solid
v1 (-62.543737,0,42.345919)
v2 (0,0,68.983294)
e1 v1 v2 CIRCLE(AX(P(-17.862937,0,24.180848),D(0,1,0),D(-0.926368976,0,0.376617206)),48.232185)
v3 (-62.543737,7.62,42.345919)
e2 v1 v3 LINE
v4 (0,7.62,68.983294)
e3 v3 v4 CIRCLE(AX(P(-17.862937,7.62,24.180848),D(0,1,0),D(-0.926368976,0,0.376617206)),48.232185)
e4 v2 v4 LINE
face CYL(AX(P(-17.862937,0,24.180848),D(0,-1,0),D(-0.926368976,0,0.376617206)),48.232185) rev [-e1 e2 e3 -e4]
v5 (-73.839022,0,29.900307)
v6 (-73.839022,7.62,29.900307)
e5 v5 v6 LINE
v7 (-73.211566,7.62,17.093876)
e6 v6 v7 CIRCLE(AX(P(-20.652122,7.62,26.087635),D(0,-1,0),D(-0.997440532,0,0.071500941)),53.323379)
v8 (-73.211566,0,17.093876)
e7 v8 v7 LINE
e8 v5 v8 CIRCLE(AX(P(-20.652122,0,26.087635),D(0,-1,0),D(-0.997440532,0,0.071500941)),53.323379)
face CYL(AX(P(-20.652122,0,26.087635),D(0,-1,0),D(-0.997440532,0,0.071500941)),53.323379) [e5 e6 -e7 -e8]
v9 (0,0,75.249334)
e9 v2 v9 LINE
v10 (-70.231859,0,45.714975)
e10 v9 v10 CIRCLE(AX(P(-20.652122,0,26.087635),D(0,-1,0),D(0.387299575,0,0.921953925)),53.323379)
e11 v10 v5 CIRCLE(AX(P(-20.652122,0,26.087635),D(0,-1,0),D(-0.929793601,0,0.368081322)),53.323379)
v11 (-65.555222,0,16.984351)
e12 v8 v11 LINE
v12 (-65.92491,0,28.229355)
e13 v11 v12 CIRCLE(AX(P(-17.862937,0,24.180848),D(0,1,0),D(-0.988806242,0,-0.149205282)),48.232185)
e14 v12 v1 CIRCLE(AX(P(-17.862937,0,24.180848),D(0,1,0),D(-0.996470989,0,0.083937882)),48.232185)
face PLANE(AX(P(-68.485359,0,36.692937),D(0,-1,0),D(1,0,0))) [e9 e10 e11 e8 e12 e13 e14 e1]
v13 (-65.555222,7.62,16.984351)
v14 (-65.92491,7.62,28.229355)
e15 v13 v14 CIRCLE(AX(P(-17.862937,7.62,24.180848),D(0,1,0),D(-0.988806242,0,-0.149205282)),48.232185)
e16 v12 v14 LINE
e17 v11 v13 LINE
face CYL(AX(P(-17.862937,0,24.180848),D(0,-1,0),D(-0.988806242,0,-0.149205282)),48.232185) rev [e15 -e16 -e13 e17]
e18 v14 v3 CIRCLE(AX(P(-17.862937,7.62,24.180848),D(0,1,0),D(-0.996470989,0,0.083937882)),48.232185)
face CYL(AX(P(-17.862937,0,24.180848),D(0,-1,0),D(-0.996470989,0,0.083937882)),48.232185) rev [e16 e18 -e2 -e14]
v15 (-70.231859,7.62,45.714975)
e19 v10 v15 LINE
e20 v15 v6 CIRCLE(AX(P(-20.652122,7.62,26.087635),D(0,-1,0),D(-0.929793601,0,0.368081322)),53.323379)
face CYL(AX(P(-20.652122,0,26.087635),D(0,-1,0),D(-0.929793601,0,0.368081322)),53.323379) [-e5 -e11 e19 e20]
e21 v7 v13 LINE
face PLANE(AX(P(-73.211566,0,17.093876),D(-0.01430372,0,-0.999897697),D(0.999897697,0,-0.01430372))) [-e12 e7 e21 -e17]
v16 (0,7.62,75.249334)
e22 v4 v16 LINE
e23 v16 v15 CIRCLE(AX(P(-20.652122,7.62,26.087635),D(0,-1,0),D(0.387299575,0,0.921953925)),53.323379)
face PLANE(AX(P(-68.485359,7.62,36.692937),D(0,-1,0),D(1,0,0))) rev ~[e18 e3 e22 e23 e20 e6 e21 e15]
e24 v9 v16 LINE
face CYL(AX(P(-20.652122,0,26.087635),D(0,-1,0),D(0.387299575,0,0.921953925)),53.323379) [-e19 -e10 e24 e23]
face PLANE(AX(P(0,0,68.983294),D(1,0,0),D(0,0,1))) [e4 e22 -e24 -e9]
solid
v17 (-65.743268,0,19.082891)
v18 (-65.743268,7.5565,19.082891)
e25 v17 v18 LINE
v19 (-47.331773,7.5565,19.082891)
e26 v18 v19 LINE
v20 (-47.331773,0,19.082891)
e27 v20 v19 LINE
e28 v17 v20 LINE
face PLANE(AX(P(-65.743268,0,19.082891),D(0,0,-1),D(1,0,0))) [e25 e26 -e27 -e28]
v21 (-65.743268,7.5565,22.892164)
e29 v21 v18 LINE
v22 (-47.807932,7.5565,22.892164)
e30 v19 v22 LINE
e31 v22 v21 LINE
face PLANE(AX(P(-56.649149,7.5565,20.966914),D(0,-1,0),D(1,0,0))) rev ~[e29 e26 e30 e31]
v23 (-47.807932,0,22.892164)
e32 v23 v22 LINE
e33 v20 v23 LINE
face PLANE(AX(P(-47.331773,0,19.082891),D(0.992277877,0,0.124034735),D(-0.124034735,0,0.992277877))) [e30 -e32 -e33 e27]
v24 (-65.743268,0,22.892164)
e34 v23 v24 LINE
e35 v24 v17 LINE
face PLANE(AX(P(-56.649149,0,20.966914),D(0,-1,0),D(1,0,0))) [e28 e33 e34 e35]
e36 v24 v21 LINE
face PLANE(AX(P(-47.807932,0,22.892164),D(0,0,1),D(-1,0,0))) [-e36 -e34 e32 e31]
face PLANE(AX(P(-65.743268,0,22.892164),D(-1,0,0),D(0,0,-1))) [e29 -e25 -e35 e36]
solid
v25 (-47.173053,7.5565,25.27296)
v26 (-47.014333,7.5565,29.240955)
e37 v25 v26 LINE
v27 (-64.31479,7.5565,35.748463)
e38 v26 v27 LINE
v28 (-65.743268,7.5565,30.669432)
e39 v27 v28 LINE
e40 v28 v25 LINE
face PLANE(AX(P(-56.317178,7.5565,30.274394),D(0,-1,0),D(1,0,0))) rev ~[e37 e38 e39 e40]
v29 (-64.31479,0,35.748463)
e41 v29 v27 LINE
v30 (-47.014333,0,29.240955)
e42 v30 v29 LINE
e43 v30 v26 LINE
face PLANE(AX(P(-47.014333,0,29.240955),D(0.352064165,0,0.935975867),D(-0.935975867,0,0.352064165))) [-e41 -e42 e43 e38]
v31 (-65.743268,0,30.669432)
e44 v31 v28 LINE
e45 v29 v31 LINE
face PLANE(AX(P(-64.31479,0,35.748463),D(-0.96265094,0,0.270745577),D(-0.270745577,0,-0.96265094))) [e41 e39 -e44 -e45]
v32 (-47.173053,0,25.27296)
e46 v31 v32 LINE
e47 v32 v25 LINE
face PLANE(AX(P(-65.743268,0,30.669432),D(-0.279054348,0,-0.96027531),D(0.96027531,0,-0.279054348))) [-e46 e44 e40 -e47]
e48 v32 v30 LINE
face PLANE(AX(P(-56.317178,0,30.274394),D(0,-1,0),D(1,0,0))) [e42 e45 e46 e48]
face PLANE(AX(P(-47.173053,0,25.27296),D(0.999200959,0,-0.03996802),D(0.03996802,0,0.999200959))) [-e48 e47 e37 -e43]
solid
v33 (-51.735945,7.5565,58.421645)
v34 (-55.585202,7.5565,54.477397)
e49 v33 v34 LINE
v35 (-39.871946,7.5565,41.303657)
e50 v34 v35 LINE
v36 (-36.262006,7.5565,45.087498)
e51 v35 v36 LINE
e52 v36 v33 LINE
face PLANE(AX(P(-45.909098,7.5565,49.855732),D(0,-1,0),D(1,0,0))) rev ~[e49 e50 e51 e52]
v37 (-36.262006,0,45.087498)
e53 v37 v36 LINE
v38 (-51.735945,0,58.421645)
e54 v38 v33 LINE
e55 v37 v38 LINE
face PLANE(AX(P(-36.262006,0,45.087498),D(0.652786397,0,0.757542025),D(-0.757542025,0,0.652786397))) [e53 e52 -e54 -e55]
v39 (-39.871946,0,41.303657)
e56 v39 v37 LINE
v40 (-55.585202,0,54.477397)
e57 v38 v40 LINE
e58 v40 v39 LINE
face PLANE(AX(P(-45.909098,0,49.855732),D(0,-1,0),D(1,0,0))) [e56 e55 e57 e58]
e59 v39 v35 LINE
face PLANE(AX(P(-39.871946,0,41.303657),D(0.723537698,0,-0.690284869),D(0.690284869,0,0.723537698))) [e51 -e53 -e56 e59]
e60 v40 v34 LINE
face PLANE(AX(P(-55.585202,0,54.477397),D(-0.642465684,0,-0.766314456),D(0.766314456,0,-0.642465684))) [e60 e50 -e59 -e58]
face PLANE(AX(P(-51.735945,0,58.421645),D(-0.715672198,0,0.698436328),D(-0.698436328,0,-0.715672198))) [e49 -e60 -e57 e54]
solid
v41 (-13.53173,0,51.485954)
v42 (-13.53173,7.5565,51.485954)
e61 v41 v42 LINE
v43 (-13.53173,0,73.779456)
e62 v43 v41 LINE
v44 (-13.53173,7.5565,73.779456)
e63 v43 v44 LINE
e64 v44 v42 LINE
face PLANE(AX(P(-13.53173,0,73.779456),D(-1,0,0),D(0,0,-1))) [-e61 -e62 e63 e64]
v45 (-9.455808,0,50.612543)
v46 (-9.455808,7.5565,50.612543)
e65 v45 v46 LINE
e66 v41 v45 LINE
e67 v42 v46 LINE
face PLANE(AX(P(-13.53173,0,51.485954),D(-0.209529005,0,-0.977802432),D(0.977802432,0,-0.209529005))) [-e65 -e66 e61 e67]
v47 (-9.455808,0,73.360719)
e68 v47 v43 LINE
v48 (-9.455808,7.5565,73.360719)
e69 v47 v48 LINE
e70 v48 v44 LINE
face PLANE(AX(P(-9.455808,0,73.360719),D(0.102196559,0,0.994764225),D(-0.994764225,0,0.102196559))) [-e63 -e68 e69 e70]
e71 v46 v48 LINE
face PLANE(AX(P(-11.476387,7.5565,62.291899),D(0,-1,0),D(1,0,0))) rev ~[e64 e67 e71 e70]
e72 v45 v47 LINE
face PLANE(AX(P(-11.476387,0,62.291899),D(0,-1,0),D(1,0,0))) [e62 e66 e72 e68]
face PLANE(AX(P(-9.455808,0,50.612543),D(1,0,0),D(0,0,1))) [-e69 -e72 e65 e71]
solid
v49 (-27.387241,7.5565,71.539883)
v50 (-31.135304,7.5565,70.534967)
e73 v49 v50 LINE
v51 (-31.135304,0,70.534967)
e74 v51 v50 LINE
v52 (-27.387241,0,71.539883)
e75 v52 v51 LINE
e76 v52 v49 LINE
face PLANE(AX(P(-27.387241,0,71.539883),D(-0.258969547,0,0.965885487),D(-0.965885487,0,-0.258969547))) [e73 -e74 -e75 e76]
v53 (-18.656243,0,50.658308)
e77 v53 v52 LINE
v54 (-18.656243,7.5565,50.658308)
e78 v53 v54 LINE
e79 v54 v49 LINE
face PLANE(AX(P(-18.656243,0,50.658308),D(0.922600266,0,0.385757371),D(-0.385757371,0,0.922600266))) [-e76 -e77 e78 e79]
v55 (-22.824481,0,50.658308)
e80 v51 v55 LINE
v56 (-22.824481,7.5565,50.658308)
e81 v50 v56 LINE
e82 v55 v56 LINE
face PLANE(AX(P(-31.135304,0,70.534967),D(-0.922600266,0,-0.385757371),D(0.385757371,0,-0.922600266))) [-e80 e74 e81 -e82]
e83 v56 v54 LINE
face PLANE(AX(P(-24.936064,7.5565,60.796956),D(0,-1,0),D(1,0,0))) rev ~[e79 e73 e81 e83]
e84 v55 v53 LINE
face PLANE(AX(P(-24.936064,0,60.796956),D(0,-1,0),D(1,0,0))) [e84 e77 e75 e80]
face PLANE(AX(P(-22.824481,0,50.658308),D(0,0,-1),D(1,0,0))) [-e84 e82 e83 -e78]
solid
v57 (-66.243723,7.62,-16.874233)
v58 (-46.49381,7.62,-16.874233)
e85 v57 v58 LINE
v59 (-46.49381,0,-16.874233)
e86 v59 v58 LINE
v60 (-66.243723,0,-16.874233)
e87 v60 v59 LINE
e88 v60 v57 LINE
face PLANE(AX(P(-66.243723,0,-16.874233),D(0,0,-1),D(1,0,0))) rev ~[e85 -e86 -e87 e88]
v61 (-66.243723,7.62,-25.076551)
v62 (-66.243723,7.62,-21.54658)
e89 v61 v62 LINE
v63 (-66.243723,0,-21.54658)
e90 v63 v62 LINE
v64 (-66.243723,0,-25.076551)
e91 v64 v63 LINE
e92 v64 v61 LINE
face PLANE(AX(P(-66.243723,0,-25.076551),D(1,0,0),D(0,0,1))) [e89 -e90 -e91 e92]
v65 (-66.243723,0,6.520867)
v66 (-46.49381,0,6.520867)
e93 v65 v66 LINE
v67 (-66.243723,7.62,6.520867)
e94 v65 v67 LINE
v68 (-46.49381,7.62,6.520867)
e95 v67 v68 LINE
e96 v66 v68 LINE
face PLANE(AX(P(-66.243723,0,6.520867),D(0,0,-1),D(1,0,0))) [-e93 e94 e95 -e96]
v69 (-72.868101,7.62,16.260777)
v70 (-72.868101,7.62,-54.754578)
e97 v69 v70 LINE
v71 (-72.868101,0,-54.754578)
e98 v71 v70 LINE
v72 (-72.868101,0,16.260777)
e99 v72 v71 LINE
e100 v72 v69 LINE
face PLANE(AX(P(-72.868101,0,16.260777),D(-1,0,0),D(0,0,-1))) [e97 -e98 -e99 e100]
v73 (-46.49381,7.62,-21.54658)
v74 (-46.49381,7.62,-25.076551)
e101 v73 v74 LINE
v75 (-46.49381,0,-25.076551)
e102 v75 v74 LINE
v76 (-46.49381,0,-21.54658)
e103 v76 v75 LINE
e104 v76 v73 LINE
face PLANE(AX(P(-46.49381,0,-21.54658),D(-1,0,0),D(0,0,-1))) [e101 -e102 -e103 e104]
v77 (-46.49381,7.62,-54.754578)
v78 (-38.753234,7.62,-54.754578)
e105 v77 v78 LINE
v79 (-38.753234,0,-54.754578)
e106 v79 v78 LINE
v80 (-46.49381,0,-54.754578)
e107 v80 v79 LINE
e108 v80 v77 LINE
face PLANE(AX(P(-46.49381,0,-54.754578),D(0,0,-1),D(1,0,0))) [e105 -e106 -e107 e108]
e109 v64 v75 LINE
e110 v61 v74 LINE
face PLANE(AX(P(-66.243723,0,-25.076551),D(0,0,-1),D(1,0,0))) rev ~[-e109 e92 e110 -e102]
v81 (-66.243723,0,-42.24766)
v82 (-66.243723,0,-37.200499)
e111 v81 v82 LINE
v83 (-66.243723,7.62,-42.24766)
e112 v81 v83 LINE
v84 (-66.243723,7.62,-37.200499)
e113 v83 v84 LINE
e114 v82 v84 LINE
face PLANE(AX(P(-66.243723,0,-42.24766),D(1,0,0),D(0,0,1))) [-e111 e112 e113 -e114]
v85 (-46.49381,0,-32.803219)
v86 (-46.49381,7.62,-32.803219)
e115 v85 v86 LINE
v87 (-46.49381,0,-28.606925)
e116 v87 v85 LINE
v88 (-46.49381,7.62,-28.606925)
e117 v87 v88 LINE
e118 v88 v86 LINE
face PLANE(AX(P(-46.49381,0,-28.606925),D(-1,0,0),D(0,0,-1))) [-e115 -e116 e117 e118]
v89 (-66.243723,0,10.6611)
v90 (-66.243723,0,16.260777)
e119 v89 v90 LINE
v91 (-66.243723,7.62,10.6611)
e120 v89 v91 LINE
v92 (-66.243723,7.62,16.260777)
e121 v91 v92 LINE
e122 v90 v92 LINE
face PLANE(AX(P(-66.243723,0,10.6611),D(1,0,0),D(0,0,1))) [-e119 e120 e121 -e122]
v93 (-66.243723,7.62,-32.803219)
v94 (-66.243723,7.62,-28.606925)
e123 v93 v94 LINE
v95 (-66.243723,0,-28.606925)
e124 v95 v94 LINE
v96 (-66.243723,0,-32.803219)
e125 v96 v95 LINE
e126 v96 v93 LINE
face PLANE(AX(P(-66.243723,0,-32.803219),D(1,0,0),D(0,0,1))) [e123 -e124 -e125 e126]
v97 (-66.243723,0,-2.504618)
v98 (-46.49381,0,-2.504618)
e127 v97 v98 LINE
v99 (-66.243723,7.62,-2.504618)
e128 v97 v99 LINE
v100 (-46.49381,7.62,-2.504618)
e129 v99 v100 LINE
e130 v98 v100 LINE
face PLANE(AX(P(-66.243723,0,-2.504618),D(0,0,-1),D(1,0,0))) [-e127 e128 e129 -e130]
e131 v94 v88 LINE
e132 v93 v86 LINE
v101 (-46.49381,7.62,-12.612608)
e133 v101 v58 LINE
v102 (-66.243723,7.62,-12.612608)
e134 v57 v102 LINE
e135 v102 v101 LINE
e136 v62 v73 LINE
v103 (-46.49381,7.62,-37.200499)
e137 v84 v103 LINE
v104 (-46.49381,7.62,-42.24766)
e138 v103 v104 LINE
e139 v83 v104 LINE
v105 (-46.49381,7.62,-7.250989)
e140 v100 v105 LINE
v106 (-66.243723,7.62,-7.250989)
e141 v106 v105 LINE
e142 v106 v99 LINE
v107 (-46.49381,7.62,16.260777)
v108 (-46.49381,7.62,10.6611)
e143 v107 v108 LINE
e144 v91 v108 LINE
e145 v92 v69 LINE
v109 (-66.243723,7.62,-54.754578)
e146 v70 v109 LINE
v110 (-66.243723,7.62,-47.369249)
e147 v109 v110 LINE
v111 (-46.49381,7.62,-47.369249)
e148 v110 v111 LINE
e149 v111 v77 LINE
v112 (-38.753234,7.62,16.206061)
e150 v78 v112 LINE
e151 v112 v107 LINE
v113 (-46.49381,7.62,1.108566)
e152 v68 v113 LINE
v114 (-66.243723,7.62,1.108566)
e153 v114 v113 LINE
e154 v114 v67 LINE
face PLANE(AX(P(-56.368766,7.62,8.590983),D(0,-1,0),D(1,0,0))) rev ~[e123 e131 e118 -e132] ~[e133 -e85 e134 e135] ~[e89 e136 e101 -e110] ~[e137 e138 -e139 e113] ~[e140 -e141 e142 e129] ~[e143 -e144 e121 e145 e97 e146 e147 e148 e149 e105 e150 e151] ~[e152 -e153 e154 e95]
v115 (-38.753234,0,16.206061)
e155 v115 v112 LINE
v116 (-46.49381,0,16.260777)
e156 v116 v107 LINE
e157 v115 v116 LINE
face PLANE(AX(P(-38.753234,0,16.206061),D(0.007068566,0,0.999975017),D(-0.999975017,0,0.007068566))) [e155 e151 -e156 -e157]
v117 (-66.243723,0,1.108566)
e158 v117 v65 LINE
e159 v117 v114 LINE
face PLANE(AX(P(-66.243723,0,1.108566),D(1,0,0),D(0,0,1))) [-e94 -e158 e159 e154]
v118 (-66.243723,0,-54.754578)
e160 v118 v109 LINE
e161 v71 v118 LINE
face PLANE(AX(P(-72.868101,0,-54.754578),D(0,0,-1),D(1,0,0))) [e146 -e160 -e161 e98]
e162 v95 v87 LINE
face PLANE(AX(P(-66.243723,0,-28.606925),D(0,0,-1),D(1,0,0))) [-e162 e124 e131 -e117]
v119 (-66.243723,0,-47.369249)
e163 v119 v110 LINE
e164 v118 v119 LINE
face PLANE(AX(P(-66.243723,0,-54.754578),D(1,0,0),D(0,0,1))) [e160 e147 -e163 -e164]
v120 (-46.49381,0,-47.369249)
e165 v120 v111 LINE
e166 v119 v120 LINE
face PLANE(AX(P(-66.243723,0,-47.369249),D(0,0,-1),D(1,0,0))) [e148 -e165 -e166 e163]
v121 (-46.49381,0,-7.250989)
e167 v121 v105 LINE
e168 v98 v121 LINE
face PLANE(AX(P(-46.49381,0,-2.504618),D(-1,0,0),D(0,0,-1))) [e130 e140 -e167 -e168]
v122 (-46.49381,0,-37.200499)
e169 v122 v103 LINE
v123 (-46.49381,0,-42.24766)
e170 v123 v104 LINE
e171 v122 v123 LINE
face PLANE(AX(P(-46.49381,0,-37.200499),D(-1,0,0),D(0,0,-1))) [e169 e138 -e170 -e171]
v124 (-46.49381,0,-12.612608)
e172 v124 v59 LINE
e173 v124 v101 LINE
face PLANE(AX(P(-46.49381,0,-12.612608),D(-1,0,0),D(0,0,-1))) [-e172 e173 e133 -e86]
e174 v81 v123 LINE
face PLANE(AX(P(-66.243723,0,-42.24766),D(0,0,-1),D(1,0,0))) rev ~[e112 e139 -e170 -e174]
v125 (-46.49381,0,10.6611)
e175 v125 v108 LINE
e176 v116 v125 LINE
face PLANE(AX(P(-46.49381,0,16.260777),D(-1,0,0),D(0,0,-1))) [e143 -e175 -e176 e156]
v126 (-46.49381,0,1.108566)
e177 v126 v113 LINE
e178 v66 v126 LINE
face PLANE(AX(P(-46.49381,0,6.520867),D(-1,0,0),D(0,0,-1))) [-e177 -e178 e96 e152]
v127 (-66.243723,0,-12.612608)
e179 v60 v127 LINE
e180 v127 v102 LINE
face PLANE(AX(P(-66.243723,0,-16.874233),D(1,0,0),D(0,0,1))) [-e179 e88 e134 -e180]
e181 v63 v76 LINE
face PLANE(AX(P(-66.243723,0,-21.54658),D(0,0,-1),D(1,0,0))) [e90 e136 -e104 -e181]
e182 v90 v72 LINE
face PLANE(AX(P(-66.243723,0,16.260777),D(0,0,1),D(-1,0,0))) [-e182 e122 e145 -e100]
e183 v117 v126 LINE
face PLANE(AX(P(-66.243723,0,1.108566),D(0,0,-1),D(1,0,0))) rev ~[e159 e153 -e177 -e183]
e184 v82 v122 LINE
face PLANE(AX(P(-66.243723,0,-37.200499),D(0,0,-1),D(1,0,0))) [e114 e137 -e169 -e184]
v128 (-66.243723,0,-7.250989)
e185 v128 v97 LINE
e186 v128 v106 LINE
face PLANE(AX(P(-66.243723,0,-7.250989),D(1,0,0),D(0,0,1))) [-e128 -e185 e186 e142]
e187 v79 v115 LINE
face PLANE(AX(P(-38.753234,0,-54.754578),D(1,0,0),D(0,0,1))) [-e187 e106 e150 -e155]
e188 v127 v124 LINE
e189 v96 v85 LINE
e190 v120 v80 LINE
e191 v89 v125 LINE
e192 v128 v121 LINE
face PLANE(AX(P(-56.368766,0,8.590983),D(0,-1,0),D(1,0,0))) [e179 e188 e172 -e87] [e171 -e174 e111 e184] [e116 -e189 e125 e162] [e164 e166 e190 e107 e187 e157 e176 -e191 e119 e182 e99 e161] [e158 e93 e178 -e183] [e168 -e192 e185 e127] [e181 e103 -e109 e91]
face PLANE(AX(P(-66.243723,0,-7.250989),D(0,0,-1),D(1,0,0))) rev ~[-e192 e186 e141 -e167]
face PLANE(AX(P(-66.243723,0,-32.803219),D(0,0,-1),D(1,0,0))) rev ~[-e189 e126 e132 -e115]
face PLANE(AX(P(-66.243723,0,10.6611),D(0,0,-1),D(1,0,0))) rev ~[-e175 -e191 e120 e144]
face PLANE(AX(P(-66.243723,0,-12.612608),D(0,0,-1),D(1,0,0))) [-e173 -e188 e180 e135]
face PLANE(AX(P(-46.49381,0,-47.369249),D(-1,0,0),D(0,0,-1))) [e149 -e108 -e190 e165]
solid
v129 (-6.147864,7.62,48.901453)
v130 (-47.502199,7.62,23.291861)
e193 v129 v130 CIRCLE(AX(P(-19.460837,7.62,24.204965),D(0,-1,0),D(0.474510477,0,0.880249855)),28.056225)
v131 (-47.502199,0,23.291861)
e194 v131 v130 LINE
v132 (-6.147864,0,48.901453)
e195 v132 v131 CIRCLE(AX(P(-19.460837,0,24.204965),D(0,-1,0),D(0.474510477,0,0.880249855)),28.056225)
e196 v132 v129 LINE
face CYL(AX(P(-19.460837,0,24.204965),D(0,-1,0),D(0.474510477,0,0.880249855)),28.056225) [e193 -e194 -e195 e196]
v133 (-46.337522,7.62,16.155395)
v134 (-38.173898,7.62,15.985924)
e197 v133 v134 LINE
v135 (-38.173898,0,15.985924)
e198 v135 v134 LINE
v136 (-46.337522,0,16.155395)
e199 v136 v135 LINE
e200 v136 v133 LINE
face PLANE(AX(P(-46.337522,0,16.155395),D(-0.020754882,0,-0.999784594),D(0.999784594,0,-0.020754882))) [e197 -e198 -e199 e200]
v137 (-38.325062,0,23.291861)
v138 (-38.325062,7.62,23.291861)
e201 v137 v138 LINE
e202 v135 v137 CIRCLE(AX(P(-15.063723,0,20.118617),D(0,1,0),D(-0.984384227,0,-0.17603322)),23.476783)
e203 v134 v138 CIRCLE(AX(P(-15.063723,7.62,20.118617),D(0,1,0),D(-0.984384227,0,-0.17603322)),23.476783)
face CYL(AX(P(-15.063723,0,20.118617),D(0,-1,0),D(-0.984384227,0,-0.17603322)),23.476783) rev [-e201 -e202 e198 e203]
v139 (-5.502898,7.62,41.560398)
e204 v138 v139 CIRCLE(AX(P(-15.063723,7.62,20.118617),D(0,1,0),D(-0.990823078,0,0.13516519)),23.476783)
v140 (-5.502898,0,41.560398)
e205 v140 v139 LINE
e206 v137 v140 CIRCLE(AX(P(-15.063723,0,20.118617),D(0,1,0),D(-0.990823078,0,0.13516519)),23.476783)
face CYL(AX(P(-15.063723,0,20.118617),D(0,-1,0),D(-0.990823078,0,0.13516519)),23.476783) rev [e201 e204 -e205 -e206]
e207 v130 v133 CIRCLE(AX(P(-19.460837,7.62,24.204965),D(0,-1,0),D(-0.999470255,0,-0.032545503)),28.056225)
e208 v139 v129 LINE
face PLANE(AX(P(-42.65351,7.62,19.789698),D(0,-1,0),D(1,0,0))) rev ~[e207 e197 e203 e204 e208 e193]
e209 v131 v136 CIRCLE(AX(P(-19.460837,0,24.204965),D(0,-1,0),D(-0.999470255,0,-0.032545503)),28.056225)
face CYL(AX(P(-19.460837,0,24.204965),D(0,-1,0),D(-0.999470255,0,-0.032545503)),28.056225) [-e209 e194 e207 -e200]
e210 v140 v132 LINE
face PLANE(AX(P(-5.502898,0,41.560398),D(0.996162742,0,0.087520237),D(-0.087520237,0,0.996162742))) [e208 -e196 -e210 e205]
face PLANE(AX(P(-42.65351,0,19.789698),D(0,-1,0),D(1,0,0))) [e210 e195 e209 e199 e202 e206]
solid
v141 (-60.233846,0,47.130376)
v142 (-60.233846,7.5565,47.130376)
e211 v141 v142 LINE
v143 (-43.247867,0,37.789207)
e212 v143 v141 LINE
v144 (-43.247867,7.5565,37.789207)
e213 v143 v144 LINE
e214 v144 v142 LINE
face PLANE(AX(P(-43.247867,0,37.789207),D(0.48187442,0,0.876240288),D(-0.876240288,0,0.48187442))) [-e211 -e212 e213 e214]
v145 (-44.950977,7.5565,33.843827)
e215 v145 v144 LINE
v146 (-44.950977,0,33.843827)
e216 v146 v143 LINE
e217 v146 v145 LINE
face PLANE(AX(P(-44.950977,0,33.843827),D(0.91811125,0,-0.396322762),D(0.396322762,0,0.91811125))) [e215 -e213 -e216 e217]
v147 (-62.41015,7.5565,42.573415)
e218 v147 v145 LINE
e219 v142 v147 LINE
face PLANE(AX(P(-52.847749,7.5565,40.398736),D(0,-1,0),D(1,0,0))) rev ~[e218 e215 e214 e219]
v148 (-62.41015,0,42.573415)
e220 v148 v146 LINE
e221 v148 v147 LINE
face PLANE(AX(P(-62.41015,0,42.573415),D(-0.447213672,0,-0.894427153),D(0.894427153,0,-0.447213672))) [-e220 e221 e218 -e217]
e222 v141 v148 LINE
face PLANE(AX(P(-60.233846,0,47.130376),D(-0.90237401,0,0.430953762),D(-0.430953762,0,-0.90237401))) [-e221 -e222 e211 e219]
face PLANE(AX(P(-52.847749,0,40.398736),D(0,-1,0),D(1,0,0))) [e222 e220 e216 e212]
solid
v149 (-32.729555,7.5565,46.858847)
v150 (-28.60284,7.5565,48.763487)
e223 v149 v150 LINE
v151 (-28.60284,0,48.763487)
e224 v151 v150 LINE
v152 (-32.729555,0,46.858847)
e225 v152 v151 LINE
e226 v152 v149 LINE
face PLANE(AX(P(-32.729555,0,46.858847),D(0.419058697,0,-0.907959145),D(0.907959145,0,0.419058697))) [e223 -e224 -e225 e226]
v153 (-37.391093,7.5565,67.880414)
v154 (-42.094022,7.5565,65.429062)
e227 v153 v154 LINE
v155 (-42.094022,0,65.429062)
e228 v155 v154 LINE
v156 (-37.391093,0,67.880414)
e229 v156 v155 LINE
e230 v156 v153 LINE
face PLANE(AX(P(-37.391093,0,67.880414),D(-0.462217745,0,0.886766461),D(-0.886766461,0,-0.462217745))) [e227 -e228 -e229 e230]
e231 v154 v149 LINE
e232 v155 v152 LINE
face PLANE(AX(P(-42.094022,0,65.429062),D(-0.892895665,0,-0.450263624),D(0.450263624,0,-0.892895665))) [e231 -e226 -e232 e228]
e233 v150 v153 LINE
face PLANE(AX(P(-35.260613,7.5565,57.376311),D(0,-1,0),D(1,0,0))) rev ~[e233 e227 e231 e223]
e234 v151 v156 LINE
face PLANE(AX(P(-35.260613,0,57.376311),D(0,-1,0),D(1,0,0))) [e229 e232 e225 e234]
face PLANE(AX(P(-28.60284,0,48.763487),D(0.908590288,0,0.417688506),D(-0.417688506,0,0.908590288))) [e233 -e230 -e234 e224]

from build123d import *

# Parameters (mm, degrees)
F0_W     = 19.7499133646
F0_H     = 4.1402331553
F0_H_2   = 5.3616189398
F0_H_3   = 3.6131842062
F0_H_4   = 4.6723466367
F0_H_5   = 3.5303737968
F0_H_6   = 4.3972805142
F0_H_7   = 5.121588707
F1_DEPTH = 7.62
F3_DEPTH = 7.62
F5_DEPTH = 7.5565


with BuildPart() as f1:
    # F0 (on Front) → F1 (new body)
    with BuildSketch(Plane.XZ):
        with Locations((-56.3687663525, 8.5909834597)):
            Rectangle(F0_W, F0_H)
        Polygon((-66.2437230349, 16.2607766688), (-72.8681012988, 16.2607766688), (-72.8681012988, -54.7545775771), (-66.2437230349, -54.7545775771), (-66.2437230349, -51.4237135649), (-66.2437230349, -47.3692491651), (-66.2437230349, -42.2476604581), (-66.2437230349, -37.200499326), (-66.2437230349, -32.8032188118), (-66.2437230349, -28.6069251597), (-66.2437230349, -25.0765513629), (-66.2437230349, -21.5465798974), (-66.2437230349, -16.8742332608), (-66.2437230349, -12.6126082614), (-66.2437230349, -7.2509893216), (-66.2437230349, -2.5046177907), (-66.2437230349, 1.1085664155), (-66.2437230349, 6.5208668821), (-66.2437230349, 10.6611000374), align=None)
        Polygon((-46.4938096702, 16.2607766688), (-46.4938096702, 10.6611000374), (-46.4938096702, 6.5208668821), (-46.4938096702, 1.1085664155), (-46.4938096702, -2.5046177907), (-46.4938096702, -7.2509893216), (-46.4938096702, -12.6126082614), (-46.4938096702, -16.8742332608), (-46.4938096702, -21.5465798974), (-46.4938096702, -25.0765513629), (-46.4938096702, -28.6069251597), (-46.4938096702, -32.8032188118), (-46.4938096702, -37.200499326), (-46.4938096702, -42.2476604581), (-46.4938096702, -47.3692491651), (-46.4938096702, -51.4237135649), (-46.4938096702, -54.7545775771), (-38.75323385, -54.7545775771), (-38.75323385, 16.2060605315), align=None)
        with Locations((-56.3687663525, -9.9317987915)):
            Rectangle(F0_W, F0_H_2)
        with Locations((-56.3687663525, -0.6980256876)):
            Rectangle(F0_W, F0_H_3)
        with Locations((-56.3687663525, -19.2104065791)):
            Rectangle(F0_W, F0_H_4)
        with Locations((-56.3687663525, -26.8417382613)):
            Rectangle(F0_W, F0_H_5)
        with Locations((-56.3687663525, -35.0018590689)):
            Rectangle(F0_W, F0_H_6)
        with Locations((-56.3687663525, -44.8084548116)):
            Rectangle(F0_W, F0_H_7)
    extrude(amount=-F1_DEPTH)


with BuildPart() as f3:
    # F2 (on Front) → F3 (new body)
    with BuildSketch(Plane.XZ):
        with BuildLine():
            Line((-62.5437365724, 42.3459186364), (-70.2318590901, 45.7149749259))
            ThreePointArc((-70.2318590901, 45.7149749259), (-72.6403068231, 37.9456046034), (-73.8390220772, 29.9003067573))
            Line((-73.8390220772, 29.9003067573), (-65.9249098405, 28.2293552639))
            ThreePointArc((-65.9249098405, 28.2293552639), (-64.7684249363, 35.4155640131), (-62.5437365724, 42.3459186364))
        make_face()
        with BuildLine():
            Line((0, 68.9832940698), (0, 75.2493338258))
            ThreePointArc((0, 75.2493338258), (-41.3226643186, 75.2415917993), (-70.2318590901, 45.7149749259))
            Line((-70.2318590901, 45.7149749259), (-62.5437365724, 42.3459186364))
            ThreePointArc((-62.5437365724, 42.3459186364), (-36.7623252254, 68.5560300344), (0, 68.9832940698))
        make_face()
        with BuildLine():
            Line((-65.9249098405, 28.2293552639), (-73.8390220772, 29.9003067573))
            ThreePointArc((-73.8390220772, 29.9003067573), (-73.9116137916, 23.4781636582), (-73.2115656137, 17.0938763767))
            Line((-73.2115656137, 17.0938763767), (-65.5552223325, 16.9843509793))
            ThreePointArc((-65.5552223325, 16.9843509793), (-66.0690778908, 22.5960366247), (-65.9249098405, 28.2293552639))
        make_face()
    extrude(amount=-F3_DEPTH)


with BuildPart() as f3b:
    # F2 (on Front) → F3, piece 2 (new body)
    with BuildSketch(Plane.XZ):
        with BuildLine():
            Line((-38.3250617533, 23.2918610972), (-47.502199357, 23.2918610972))
            ThreePointArc((-47.502199357, 23.2918610972), (-47.1507315945, 19.6859497569), (-46.3375218112, 16.1553951219))
            Line((-46.3375218112, 16.1553951219), (-38.1738982421, 15.9859235735))
            ThreePointArc((-38.1738982421, 15.9859235735), (-38.5354828094, 19.6329747937), (-38.3250617533, 23.2918610972))
        make_face()
        with BuildLine():
            Line((-5.50289784, 41.5603978369), (-6.147863663, 48.9014534144))
            ThreePointArc((-6.147863663, 48.9014534144), (-34.2322336603, 48.0577974598), (-47.502199357, 23.2918610972))
            Line((-47.502199357, 23.2918610972), (-38.3250617533, 23.2918610972))
            ThreePointArc((-38.3250617533, 23.2918610972), (-26.4812919334, 40.6319901624), (-5.50289784, 41.5603978369))
        make_face()
    extrude(amount=-F3_DEPTH)


with BuildPart() as f5:
    # F4 (on Front) → F5 (new body)
    with BuildSketch(Plane.XZ):
        Polygon((-47.8079319, 22.8921640664), (-65.7432675362, 22.8921640664), (-65.7432675362, 19.0828908235), (-47.3317727447, 19.0828908235), align=None)
    extrude(amount=-F5_DEPTH)


with BuildPart() as f5b:
    # F4 (on Front) → F5, piece 2 (new body)
    with BuildSketch(Plane.XZ):
        Polygon((-47.0143333077, 29.2409546673), (-64.3147900701, 35.748463124), (-65.7432675362, 30.6694321334), (-47.1730530262, 25.2729598433), align=None)
    extrude(amount=-F5_DEPTH)


with BuildPart() as f5c:
    # F4 (on Front) → F5, piece 3 (new body)
    with BuildSketch(Plane.XZ):
        Polygon((-60.2338463068, 47.1303761005), (-62.4101497233, 42.5734147429), (-44.9509769678, 33.8438265026), (-43.2478673756, 37.7892069519), align=None)
    extrude(amount=-F5_DEPTH)


with BuildPart() as f5d:
    # F4 (on Front) → F5, piece 4 (new body)
    with BuildSketch(Plane.XZ):
        Polygon((-9.4558084384, 73.3607187867), (-13.531729579, 73.7794563174), (-13.531729579, 51.4859540419), (-9.4558084384, 50.612542735), align=None)
    extrude(amount=-F5_DEPTH)


with BuildPart() as f5e:
    # F4 (on Front) → F5, piece 5 (new body)
    with BuildSketch(Plane.XZ):
        Polygon((-22.8244807163, 50.6583079696), (-18.6562426388, 50.6583079696), (-27.3872411671, 71.539883226), (-31.1353038996, 70.534966886), align=None)
    extrude(amount=-F5_DEPTH)


with BuildPart() as f5f:
    # F4 (on Front) → F5, piece 6 (new body)
    with BuildSketch(Plane.XZ):
        Polygon((-37.3910926282, 67.8804144263), (-42.0940220356, 65.4290616512), (-32.7295549214, 46.8588471413), (-28.6028403789, 48.763487488), align=None)
    extrude(amount=-F5_DEPTH)


with BuildPart() as f5g:
    # F4 (on Front) → F5, piece 7 (new body)
    with BuildSketch(Plane.XZ):
        Polygon((-36.2620055676, 45.0874976814), (-51.7359450459, 58.4216453135), (-55.5852018297, 54.4773973525), (-39.8719459772, 41.3036569953), align=None)
    extrude(amount=-F5_DEPTH)


solid = Compound([f1.part, f3.part, f3b.part, f5.part, f5b.part, f5c.part, f5d.part, f5e.part, f5f.part, f5g.part])
